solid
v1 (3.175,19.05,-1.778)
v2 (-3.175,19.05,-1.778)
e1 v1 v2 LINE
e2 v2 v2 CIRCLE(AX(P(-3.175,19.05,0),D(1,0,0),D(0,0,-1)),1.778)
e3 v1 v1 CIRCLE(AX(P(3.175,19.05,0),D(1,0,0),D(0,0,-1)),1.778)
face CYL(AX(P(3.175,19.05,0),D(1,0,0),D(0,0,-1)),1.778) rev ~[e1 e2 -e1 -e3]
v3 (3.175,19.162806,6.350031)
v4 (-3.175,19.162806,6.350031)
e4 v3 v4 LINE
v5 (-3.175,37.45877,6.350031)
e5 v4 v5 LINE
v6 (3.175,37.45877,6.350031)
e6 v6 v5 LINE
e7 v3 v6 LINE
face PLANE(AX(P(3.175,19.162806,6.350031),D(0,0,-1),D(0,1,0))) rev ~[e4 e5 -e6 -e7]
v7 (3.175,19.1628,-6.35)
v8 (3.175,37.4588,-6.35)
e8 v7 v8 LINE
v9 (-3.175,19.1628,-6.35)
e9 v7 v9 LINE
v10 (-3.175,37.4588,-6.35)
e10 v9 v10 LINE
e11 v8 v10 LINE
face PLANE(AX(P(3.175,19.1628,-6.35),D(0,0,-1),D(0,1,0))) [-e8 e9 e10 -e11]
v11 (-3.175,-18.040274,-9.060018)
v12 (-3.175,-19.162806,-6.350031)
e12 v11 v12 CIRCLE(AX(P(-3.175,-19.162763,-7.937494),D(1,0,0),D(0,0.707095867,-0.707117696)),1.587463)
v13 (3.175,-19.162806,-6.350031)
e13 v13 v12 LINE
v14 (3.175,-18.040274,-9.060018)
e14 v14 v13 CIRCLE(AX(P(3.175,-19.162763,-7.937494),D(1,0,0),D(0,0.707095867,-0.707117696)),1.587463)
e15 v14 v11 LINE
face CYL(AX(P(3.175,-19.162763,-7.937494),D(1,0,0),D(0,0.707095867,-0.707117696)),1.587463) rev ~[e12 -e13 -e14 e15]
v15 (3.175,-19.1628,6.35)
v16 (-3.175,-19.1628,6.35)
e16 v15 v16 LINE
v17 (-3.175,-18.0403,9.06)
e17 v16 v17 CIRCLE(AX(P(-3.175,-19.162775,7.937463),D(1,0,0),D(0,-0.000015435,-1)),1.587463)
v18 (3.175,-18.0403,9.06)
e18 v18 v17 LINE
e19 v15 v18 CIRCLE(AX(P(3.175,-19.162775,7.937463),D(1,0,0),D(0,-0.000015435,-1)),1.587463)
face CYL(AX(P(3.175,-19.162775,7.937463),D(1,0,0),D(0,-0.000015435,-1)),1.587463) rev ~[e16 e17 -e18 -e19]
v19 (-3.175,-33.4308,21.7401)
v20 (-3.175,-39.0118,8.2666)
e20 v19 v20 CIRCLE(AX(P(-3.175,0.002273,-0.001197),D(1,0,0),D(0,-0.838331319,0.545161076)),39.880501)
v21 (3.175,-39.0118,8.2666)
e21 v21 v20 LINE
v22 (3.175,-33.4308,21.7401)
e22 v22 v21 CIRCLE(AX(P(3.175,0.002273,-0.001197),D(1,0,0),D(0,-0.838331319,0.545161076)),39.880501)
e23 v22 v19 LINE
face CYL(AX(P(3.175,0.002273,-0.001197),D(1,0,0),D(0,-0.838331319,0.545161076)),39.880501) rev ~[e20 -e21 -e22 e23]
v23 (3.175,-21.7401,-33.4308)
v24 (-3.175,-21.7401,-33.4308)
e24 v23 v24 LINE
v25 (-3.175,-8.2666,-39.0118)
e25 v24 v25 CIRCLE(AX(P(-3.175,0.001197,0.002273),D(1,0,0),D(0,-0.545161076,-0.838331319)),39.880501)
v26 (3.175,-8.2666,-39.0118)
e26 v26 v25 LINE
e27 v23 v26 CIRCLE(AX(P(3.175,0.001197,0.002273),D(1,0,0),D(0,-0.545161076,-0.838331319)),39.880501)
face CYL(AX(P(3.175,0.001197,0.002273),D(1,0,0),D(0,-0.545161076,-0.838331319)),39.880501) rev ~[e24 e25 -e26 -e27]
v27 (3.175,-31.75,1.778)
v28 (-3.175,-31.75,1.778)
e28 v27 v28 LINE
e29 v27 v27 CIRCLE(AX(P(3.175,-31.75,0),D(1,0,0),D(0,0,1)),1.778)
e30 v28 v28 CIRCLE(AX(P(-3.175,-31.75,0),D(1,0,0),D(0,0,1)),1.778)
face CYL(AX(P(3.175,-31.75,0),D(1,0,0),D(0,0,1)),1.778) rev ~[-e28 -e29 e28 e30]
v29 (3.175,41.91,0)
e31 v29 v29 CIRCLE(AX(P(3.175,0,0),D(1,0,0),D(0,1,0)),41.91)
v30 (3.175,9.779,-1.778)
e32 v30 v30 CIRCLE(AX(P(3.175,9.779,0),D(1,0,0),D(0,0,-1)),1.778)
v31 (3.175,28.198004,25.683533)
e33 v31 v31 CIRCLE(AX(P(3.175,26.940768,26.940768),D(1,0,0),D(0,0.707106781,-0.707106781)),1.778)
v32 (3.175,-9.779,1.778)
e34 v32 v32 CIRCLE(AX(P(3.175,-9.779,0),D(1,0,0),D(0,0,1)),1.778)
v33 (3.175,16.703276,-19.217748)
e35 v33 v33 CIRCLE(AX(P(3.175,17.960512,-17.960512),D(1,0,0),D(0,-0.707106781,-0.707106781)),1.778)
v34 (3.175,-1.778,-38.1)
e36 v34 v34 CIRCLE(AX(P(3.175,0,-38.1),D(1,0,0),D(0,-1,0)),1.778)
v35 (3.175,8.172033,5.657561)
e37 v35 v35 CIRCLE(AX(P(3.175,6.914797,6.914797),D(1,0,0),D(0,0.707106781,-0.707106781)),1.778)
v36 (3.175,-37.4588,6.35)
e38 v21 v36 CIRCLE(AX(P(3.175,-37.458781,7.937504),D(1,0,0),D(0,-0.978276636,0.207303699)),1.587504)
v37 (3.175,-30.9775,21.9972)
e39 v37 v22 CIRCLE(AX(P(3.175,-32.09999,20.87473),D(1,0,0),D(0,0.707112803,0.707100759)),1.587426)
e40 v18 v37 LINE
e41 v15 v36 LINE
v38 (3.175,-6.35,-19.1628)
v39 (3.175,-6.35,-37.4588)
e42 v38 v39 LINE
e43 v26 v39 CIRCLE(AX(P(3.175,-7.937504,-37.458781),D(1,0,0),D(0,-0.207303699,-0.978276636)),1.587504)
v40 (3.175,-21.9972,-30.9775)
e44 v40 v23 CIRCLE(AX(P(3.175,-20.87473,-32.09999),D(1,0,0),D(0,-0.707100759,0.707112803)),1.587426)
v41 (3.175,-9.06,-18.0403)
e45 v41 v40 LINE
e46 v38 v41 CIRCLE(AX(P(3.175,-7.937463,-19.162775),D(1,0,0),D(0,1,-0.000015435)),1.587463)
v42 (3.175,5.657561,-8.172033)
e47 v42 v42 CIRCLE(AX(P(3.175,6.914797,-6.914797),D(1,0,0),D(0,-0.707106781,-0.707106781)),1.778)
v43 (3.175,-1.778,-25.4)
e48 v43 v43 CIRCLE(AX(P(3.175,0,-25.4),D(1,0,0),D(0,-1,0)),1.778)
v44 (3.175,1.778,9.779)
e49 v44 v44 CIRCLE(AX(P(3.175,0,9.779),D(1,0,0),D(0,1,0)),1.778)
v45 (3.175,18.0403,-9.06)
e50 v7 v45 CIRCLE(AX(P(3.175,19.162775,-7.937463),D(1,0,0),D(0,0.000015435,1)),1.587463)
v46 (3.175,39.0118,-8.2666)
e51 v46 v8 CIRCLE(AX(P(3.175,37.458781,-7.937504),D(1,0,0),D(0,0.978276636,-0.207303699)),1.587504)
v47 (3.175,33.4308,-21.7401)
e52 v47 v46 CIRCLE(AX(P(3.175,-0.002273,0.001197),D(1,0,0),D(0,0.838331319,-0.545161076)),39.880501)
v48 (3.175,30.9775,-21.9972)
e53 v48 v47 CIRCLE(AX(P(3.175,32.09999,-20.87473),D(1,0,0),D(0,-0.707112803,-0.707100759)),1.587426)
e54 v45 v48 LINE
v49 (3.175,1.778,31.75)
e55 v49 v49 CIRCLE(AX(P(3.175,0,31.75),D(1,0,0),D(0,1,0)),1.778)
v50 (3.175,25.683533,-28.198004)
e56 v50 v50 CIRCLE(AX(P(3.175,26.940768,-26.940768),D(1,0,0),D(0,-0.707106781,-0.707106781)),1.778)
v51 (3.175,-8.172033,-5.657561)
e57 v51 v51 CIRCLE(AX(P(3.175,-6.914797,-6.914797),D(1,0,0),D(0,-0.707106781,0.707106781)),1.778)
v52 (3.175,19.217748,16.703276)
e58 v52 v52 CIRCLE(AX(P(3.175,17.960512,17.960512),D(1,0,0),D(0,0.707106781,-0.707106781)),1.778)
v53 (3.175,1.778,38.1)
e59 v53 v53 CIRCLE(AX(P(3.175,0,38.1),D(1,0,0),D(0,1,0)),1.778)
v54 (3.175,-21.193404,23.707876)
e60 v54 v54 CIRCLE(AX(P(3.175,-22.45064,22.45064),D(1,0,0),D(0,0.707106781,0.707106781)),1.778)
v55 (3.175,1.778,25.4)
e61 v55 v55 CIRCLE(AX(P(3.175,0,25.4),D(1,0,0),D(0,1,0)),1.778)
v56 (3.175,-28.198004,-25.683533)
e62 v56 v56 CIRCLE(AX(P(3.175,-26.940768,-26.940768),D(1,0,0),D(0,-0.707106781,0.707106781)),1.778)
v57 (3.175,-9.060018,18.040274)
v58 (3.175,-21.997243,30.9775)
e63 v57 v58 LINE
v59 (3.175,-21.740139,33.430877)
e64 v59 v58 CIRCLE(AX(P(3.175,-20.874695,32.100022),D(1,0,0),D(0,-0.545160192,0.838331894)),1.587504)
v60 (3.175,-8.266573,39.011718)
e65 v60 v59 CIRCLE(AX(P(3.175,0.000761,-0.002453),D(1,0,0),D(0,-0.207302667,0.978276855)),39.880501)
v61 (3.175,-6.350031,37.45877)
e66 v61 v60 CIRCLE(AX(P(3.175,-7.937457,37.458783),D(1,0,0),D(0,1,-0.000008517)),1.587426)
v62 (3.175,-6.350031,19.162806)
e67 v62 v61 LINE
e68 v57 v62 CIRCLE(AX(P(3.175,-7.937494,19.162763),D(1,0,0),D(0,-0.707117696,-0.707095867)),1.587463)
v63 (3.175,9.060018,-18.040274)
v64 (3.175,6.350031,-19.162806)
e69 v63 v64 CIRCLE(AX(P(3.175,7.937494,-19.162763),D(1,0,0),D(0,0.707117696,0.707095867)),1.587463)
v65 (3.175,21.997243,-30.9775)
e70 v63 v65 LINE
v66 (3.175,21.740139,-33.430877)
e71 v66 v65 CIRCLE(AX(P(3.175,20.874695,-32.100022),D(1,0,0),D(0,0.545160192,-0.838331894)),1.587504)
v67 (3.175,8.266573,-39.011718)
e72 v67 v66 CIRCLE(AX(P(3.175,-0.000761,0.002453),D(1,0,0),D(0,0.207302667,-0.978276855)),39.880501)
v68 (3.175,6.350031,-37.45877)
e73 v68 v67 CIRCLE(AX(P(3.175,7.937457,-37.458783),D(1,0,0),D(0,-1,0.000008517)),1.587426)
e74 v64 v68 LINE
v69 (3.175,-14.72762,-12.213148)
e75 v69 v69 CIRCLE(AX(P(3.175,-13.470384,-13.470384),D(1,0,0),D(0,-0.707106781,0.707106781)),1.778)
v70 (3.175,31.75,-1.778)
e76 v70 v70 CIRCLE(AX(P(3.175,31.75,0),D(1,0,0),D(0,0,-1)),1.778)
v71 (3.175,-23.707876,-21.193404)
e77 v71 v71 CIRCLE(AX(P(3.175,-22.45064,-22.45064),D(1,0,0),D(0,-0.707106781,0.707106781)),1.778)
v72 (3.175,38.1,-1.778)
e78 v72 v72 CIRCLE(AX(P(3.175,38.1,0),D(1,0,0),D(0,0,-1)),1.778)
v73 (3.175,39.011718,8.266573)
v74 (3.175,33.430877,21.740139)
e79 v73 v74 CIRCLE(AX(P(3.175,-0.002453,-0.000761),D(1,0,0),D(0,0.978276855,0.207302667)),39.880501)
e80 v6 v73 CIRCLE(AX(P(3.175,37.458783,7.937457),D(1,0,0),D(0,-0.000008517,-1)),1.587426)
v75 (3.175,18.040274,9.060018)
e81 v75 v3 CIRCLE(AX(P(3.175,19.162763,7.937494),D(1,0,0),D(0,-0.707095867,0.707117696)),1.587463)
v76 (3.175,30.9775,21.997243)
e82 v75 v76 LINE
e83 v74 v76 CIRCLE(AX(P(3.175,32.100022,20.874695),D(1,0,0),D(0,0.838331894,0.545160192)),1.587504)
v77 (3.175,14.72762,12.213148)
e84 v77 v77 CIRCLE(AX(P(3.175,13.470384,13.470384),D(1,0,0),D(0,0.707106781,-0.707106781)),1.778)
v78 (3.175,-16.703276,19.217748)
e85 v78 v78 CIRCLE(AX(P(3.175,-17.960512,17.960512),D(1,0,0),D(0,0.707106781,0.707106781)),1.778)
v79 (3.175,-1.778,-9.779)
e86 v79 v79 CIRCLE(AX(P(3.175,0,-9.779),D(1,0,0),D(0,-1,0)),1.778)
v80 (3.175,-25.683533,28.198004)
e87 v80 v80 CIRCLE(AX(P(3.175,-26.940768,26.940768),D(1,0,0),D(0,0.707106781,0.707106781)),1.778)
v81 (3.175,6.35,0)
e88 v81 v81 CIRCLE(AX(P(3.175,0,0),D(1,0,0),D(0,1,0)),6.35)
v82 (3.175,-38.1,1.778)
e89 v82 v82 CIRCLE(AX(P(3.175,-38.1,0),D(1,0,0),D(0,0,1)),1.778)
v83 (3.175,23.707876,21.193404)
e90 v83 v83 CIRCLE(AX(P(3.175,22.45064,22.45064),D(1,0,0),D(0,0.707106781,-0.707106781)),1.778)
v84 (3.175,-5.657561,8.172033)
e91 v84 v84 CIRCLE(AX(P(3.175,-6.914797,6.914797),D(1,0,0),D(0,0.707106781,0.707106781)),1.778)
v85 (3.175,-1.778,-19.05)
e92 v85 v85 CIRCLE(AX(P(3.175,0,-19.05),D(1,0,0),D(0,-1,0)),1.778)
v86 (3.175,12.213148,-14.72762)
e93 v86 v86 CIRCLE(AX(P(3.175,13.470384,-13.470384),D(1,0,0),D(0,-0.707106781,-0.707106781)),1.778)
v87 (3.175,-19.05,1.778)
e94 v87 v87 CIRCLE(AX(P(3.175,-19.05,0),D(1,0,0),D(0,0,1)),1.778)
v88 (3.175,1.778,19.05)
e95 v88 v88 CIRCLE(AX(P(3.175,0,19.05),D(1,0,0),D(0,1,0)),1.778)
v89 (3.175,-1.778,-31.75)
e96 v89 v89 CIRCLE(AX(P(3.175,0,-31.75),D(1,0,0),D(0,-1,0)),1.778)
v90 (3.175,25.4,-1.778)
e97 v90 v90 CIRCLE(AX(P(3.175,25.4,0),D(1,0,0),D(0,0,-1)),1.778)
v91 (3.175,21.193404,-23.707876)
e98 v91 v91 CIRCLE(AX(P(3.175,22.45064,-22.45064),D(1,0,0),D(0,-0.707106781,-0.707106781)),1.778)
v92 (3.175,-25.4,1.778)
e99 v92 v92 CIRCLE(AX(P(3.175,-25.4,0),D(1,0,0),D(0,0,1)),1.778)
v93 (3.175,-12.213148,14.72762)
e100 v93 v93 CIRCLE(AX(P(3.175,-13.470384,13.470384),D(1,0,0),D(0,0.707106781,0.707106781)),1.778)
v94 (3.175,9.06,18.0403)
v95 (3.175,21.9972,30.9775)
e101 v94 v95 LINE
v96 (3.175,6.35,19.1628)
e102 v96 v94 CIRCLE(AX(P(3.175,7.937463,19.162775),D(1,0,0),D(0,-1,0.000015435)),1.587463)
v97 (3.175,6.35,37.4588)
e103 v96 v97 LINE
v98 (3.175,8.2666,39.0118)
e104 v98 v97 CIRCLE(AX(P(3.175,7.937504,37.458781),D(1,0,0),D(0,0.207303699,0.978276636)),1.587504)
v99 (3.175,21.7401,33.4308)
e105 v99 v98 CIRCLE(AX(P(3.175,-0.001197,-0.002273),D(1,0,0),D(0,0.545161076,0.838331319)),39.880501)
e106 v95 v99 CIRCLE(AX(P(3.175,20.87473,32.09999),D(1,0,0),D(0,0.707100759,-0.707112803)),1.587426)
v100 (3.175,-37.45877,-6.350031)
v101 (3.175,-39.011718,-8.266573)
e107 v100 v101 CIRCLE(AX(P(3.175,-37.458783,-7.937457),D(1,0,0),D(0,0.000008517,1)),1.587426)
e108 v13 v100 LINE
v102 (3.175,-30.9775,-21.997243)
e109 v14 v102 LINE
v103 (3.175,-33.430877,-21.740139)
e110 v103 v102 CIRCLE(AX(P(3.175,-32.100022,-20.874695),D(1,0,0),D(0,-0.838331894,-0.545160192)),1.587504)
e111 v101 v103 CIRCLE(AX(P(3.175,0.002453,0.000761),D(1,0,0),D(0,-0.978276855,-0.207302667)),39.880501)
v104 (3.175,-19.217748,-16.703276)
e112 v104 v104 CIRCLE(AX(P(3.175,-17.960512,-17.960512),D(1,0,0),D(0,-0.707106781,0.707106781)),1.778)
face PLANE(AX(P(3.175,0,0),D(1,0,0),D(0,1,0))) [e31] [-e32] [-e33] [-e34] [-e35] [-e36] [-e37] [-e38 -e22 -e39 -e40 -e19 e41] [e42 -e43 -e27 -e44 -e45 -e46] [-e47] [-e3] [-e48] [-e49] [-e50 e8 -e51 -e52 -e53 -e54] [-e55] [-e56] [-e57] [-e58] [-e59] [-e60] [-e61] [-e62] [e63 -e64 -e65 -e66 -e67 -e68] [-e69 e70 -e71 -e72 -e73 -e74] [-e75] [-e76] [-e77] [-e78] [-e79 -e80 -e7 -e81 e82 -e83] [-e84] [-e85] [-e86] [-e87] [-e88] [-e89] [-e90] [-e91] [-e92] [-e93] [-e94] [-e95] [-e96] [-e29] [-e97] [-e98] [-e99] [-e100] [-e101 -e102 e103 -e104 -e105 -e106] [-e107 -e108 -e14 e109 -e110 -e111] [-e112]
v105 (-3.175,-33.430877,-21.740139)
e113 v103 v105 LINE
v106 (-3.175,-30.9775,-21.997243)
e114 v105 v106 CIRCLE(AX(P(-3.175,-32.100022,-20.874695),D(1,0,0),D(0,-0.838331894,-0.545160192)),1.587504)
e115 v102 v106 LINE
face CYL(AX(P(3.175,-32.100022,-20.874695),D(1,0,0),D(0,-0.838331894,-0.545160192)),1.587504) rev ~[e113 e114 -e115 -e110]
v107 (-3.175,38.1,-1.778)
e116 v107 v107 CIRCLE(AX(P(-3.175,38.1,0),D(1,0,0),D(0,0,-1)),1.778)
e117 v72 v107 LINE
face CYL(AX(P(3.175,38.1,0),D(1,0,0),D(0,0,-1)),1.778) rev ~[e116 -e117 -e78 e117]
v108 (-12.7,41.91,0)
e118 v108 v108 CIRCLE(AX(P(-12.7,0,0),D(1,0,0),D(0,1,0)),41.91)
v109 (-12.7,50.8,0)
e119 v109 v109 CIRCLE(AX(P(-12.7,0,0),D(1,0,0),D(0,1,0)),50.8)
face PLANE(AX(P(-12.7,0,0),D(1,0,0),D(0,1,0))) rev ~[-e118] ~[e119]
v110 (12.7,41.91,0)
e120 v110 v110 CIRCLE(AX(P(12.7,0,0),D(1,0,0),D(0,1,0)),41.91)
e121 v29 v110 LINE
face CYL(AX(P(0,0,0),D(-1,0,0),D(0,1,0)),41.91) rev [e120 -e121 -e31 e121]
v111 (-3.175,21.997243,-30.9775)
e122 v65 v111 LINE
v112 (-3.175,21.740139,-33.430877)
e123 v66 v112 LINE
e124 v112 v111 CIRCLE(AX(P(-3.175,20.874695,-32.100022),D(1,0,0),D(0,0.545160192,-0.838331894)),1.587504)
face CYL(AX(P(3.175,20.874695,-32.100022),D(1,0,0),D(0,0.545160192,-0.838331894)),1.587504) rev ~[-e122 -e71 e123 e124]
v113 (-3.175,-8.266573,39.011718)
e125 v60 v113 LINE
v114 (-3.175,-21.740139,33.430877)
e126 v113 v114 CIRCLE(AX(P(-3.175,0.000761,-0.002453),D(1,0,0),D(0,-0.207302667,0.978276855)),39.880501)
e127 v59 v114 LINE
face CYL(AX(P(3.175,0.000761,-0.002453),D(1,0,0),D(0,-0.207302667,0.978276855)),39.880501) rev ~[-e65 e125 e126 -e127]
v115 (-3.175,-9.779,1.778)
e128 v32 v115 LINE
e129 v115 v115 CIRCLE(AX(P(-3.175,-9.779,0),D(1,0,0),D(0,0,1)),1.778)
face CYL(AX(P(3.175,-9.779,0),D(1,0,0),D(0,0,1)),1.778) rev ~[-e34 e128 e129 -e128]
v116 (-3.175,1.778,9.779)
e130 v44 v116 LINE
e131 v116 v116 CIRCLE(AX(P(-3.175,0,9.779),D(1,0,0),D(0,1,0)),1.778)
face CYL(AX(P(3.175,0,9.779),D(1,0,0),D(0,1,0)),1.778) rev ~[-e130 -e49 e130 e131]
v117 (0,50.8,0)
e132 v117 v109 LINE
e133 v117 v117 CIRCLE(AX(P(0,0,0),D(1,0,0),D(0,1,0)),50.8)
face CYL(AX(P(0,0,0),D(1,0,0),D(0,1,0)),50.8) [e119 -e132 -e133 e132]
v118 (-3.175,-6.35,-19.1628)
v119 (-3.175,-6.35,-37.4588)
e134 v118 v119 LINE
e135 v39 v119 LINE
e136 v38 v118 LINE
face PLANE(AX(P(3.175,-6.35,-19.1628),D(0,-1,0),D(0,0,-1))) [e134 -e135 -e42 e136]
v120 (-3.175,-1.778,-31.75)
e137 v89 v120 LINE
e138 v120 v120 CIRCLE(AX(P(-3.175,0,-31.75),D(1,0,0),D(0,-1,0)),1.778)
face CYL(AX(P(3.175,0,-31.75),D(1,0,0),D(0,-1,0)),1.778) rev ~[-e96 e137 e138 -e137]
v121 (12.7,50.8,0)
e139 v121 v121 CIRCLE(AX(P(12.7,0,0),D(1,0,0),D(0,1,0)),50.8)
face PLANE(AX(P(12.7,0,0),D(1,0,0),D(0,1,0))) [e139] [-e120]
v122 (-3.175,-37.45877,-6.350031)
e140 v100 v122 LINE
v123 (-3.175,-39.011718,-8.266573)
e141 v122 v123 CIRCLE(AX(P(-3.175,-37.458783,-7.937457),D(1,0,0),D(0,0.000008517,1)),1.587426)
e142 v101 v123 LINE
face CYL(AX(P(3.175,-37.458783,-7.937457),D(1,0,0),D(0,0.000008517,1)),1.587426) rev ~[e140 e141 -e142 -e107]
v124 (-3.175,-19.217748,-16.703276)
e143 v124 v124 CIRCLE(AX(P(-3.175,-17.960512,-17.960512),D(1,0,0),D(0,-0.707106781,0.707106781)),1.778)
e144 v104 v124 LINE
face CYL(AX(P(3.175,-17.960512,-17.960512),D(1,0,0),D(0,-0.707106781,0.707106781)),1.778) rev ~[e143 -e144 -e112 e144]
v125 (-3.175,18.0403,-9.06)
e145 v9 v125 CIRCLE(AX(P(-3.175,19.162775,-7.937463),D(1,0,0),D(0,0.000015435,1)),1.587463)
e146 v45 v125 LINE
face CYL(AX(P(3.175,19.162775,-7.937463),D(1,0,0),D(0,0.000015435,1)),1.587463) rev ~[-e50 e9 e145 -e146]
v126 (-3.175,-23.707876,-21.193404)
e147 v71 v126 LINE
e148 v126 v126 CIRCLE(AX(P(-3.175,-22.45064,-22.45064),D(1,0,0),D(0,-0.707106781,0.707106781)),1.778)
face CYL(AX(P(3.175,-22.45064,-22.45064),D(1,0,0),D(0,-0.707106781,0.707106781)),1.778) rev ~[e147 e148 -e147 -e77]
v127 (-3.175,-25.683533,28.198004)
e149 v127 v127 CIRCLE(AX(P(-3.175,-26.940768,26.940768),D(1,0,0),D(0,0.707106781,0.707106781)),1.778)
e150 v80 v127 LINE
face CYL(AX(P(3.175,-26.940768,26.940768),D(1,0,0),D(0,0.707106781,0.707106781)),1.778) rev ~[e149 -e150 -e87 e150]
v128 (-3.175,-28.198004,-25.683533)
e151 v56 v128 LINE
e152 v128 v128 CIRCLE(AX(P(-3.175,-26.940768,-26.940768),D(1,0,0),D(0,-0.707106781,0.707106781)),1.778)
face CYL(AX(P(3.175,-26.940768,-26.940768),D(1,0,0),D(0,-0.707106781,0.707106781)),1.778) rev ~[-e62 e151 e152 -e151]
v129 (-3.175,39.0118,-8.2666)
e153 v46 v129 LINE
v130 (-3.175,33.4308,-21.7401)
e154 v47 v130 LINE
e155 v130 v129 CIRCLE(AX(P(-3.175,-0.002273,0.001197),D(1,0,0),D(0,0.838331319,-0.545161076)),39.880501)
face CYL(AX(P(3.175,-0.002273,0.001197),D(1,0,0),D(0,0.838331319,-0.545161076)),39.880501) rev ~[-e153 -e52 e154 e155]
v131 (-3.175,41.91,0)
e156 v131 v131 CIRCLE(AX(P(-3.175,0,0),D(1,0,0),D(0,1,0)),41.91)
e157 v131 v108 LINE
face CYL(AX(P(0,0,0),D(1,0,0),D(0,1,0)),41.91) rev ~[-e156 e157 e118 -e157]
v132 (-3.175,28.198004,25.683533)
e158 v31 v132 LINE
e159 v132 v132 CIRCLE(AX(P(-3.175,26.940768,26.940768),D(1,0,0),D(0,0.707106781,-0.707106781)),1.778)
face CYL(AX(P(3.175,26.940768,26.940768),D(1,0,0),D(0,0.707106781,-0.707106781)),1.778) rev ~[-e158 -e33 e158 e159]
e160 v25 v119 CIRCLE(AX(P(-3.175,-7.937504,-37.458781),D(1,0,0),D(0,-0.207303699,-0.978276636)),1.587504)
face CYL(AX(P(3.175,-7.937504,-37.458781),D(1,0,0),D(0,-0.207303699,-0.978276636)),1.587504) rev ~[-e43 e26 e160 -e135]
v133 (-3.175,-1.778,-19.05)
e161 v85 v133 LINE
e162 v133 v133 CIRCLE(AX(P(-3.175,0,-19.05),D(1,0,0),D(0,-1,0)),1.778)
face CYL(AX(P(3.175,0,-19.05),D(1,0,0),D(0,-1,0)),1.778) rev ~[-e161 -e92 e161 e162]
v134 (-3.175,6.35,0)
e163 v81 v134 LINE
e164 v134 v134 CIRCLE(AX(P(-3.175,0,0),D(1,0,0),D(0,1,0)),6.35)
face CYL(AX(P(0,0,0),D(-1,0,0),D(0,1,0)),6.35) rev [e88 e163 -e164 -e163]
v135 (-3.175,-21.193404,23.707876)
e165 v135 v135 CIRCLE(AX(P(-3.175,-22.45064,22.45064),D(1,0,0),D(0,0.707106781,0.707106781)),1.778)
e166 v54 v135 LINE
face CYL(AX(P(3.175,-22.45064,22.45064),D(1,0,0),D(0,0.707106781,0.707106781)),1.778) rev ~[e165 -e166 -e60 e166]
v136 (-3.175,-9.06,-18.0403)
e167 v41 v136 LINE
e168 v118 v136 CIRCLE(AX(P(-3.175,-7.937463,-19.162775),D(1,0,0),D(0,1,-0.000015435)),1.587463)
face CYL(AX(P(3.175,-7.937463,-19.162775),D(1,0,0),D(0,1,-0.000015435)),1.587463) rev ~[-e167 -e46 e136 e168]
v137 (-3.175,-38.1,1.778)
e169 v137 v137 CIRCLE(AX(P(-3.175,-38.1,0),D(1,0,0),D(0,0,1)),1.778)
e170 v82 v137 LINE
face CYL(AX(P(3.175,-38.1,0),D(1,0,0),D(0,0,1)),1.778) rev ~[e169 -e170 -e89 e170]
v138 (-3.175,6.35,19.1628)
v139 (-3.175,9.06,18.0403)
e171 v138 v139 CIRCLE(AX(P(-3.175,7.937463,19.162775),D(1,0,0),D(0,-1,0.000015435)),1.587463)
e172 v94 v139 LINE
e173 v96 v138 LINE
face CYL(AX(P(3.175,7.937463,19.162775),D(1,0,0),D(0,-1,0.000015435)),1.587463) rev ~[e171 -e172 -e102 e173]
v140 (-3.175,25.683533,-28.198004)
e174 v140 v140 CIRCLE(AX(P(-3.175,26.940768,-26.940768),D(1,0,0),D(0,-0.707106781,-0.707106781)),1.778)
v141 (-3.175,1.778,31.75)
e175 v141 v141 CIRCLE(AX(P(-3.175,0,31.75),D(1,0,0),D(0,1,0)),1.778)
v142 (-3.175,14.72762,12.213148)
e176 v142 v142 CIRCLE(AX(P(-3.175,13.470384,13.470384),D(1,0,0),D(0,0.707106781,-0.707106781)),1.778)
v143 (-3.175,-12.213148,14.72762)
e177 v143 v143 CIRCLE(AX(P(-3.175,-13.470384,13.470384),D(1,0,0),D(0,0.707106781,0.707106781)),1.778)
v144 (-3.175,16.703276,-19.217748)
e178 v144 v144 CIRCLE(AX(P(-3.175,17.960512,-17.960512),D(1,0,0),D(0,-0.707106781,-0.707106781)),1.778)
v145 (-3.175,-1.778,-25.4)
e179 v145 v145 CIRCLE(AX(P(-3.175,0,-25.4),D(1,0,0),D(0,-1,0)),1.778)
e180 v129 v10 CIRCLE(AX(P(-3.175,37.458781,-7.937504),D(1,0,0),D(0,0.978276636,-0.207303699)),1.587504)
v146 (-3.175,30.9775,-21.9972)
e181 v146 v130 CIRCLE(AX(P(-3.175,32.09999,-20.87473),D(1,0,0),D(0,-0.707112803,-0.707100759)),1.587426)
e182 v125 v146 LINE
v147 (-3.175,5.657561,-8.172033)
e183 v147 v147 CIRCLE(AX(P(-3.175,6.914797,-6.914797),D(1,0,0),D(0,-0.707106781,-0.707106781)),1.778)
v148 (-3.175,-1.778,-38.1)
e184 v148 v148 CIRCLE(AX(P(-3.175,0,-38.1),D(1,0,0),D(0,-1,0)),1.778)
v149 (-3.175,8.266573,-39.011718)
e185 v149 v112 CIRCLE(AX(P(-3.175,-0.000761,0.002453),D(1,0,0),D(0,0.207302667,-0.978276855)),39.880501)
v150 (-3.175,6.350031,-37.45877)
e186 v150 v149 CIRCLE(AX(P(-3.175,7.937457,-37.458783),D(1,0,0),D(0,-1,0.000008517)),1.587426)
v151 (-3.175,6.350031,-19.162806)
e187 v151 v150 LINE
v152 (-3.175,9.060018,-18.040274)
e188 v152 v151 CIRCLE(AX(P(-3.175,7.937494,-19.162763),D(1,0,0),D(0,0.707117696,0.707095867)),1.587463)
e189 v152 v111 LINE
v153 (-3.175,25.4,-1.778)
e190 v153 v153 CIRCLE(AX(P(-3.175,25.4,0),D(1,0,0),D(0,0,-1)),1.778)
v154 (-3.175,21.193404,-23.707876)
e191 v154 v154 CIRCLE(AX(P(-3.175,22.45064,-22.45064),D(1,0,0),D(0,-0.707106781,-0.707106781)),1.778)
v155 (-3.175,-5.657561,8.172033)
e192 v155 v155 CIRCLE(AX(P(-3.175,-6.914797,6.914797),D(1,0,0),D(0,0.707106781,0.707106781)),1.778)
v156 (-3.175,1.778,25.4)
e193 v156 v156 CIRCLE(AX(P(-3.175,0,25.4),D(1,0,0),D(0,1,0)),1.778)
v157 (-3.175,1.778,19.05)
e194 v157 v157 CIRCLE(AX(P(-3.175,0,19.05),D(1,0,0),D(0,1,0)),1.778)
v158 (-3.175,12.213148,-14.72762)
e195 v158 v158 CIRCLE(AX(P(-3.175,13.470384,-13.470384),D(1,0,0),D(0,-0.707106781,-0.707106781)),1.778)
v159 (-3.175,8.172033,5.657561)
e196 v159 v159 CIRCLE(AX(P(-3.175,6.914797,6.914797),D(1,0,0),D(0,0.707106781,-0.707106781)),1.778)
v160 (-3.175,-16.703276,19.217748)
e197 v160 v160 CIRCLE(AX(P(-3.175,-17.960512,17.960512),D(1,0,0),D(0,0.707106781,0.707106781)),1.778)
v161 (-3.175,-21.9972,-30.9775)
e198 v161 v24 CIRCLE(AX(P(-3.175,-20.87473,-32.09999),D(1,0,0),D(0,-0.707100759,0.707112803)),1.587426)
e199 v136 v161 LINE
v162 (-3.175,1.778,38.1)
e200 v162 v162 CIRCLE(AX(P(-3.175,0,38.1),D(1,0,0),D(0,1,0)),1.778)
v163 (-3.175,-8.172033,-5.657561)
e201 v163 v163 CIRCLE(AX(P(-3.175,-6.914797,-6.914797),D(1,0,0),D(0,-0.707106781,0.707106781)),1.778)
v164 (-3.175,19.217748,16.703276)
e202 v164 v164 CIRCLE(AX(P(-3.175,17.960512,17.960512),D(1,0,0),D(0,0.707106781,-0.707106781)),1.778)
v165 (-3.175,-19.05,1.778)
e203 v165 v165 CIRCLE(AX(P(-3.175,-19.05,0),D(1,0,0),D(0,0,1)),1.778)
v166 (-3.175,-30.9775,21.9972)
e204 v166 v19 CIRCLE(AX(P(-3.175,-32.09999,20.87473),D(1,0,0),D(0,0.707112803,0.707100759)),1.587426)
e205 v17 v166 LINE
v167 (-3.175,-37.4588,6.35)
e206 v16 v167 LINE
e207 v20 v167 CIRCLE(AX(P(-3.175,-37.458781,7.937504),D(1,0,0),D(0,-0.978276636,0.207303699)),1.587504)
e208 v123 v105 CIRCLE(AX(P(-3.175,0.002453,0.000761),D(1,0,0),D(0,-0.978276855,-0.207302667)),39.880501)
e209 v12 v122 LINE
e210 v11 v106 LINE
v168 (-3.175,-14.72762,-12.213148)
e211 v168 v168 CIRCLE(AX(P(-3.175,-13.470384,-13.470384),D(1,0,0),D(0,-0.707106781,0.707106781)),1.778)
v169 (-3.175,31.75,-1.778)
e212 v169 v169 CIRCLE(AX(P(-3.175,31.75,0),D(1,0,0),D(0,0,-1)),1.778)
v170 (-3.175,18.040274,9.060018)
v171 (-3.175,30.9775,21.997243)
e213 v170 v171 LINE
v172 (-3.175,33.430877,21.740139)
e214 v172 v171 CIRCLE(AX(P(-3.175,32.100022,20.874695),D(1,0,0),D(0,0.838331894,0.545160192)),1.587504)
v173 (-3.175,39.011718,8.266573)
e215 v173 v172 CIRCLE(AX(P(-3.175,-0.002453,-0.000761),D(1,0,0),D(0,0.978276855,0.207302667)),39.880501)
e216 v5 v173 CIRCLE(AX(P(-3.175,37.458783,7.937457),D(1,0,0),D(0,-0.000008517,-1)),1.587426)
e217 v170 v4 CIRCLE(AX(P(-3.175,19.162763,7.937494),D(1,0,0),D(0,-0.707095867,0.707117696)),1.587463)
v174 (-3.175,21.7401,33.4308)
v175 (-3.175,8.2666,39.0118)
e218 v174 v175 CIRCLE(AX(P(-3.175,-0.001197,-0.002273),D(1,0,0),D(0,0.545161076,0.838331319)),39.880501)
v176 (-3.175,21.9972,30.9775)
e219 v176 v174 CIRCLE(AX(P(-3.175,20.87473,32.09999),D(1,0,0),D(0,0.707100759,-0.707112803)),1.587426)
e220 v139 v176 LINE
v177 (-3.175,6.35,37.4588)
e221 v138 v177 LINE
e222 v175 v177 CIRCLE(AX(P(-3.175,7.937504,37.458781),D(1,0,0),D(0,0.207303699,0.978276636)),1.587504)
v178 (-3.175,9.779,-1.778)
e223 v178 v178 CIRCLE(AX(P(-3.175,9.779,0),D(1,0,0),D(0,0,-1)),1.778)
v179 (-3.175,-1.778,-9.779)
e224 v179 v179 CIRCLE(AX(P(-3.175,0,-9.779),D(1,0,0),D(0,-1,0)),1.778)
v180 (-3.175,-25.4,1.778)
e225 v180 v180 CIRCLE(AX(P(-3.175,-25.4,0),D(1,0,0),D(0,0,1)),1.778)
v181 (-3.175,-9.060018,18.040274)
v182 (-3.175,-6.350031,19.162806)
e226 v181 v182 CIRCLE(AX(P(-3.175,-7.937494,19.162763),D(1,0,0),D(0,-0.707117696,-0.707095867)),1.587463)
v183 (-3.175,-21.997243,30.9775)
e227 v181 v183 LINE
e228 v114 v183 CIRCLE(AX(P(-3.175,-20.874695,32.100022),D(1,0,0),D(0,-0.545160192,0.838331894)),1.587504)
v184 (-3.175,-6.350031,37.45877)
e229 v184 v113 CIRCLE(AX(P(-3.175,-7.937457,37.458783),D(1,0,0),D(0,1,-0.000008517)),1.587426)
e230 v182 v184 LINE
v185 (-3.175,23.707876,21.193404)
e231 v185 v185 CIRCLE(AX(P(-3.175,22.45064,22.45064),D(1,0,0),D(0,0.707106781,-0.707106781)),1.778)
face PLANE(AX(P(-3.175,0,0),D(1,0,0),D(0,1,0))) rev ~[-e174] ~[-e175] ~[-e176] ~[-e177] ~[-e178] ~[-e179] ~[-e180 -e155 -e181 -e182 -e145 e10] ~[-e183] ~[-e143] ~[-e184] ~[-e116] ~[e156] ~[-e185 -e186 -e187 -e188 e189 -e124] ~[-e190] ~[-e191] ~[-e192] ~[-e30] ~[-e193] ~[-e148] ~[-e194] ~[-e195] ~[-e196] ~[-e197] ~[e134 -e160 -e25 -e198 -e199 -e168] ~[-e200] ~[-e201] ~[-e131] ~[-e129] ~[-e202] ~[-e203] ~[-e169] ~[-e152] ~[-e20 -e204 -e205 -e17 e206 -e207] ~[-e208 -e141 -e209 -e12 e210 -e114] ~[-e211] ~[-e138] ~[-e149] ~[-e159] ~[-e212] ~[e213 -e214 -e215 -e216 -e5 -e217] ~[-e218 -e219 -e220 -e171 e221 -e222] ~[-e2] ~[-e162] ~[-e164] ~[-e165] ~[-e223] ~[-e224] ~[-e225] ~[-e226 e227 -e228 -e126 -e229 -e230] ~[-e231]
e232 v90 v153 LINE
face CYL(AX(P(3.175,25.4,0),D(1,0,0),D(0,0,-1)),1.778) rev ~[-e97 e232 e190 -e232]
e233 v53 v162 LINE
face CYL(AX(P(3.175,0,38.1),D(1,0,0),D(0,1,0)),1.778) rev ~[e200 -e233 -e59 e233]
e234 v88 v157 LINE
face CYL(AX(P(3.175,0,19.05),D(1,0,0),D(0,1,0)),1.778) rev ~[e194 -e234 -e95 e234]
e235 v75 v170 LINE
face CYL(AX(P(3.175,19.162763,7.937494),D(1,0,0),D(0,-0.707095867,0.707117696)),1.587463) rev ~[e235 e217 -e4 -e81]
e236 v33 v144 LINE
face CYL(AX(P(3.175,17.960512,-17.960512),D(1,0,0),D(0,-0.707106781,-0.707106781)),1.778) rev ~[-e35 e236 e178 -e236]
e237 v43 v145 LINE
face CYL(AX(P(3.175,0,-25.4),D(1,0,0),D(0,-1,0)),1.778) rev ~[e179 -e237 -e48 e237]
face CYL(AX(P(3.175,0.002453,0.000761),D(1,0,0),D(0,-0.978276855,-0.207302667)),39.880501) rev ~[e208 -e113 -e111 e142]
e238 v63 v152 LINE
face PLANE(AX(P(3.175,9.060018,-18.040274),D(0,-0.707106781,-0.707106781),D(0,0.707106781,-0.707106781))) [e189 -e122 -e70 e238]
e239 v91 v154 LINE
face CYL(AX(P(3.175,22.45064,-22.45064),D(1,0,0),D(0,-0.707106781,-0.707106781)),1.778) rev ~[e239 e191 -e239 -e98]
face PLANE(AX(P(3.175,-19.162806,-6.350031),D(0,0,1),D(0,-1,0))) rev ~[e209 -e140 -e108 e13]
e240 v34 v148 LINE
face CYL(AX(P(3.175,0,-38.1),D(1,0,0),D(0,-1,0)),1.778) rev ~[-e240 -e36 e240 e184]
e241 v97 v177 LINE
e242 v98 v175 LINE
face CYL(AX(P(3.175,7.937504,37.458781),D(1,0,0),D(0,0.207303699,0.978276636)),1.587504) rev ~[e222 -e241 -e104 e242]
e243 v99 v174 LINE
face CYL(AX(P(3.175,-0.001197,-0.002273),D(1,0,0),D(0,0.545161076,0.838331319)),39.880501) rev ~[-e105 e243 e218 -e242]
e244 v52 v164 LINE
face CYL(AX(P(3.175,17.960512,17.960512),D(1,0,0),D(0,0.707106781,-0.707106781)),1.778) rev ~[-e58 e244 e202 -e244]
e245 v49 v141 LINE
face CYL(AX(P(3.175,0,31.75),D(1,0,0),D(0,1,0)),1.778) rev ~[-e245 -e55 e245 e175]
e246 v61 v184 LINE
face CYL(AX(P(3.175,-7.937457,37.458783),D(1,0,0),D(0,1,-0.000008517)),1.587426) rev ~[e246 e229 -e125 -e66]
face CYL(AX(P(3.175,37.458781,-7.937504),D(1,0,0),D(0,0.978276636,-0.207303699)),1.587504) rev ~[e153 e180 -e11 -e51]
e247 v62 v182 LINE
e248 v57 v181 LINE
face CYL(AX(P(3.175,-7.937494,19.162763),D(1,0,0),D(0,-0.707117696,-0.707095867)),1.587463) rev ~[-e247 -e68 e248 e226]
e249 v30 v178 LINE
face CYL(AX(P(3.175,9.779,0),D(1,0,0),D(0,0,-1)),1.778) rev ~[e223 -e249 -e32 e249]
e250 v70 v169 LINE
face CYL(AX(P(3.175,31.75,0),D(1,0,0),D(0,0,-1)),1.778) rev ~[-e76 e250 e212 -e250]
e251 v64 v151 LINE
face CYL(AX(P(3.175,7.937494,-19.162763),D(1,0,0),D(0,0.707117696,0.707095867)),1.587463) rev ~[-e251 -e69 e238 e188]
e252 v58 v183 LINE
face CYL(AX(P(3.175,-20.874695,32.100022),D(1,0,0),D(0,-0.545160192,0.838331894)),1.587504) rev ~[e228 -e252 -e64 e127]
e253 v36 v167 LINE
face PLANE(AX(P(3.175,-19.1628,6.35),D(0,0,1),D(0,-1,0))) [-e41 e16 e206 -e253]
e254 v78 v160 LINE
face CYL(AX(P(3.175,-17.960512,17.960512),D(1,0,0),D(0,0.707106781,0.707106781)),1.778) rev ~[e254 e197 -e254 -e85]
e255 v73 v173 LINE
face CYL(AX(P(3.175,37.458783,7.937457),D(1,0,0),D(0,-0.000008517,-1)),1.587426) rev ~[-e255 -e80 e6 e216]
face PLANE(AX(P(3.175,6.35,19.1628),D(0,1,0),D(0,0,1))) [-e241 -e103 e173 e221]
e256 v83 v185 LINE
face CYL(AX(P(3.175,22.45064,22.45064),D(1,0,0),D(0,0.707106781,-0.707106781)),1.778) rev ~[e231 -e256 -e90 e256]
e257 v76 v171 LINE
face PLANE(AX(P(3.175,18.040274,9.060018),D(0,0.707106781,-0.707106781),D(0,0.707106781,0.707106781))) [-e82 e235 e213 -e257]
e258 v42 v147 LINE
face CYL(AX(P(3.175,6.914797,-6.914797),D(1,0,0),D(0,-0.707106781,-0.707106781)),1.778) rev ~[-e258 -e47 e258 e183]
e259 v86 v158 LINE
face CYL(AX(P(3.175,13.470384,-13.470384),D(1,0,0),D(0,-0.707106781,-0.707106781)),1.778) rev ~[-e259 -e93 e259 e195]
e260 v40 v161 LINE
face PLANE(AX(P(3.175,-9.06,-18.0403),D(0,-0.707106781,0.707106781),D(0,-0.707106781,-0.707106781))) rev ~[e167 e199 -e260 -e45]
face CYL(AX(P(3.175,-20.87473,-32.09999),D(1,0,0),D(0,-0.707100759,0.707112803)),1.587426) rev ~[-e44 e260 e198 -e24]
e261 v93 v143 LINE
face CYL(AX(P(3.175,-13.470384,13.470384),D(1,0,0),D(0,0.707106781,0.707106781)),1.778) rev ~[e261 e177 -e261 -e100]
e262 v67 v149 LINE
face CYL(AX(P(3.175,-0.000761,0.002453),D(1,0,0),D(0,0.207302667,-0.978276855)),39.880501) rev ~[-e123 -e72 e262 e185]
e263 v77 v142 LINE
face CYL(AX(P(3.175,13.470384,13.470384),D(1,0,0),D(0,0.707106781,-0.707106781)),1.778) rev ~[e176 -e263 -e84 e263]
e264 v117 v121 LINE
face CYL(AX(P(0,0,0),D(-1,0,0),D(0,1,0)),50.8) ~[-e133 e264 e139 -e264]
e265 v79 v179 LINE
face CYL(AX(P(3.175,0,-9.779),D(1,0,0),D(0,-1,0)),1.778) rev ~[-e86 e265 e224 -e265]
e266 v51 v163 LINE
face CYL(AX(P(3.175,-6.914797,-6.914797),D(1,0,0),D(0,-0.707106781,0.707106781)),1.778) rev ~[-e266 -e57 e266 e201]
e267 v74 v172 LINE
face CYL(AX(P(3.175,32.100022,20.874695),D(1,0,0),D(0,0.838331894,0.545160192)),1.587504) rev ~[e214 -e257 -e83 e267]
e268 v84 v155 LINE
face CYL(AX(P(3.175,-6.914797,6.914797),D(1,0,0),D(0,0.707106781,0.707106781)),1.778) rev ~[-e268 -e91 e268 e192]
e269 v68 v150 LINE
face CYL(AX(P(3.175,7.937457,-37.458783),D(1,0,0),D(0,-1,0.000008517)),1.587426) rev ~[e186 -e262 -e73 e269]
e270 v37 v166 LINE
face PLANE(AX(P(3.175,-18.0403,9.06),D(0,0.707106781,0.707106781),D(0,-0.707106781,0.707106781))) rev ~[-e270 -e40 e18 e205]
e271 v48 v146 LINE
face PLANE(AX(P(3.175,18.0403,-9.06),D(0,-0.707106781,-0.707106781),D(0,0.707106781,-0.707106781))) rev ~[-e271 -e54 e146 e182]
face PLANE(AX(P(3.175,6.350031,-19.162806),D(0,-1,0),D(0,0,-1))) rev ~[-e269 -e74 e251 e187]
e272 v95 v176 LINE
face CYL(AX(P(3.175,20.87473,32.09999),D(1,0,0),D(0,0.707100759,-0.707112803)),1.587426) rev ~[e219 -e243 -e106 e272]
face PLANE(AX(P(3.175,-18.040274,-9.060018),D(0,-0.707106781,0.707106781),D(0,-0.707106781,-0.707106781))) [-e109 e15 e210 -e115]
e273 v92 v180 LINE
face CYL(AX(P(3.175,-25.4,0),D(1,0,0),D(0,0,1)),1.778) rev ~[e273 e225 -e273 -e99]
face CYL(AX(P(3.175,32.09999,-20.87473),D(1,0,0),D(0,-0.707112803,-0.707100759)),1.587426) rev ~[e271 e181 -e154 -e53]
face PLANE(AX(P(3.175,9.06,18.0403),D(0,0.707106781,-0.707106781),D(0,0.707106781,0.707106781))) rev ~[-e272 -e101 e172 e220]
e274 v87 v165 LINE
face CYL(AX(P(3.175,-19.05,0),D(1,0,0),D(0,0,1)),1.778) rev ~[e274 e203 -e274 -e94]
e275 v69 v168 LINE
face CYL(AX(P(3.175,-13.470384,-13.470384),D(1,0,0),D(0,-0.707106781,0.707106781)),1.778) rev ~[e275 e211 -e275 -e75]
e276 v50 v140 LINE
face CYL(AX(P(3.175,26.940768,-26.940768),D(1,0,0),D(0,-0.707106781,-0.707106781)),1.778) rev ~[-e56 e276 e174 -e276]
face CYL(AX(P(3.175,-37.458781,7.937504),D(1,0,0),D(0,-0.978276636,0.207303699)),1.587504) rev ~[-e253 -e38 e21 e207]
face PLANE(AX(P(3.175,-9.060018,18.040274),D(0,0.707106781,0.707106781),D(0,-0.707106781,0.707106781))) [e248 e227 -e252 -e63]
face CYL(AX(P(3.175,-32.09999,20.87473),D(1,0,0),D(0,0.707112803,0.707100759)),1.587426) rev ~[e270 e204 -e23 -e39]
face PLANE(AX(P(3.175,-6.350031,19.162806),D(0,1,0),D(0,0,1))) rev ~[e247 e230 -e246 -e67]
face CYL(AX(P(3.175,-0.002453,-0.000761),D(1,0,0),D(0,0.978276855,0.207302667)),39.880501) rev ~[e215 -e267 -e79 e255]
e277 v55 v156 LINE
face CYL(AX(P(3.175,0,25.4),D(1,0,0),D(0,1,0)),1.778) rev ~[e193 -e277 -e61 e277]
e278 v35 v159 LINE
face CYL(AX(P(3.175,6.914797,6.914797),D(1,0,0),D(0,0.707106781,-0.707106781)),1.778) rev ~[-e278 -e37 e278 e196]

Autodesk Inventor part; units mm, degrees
ref_plane "YZ Plane" through (0, 0, 0) normal (1, 0, 0) x (0, 1, 0)
ref_plane "XZ Plane" through (0, 0, 0) normal (0, 1, 0) x (-1, 0, 0)
ref_plane "XY Plane" through (0, 0, 0) normal (0, 0, 1) x (1, 0, 0)
sketch "Sketch1" plane through (0, 0, 0) normal (1, 0, 0) x (0, 1, 0)
  circle A0 centre (0, 0) radius 50.8
  circle A1 centre (0, 0) radius 6.35
  circle A2 centre (0, 0) radius 9.779 construction
  circle A3 centre (0, 0) radius 19.05 construction
  circle A4 centre (0, 0) radius 25.4 construction
  circle A5 centre (0, 0) radius 31.75 construction
  circle A6 centre (0, 0) radius 38.1 construction
  circle A7 centre (0, 0) radius 41.91
  line L0 (0, 0) -> (41.91, 0) construction
  line L1 (0, 50.8) -> (0, -50.8) construction
  dimension "d0" = 101.6
  dimension "d1" = 12.7
  dimension "d2" = 19.558
  dimension "d3" = 38.1
  dimension "d4" = 50.8
  dimension "d5" = 63.5
  dimension "d6" = 76.2
  dimension "d7" = 83.82
extrude "Extrusion1" add sketch "Sketch1" along normal mid plane 6.35 contours A7
sketch "Sketch2" plane through (0, 0, 0) normal (1, 0, 0) x (0, 1, 0)
  circle A0 centre (0, 0) radius 50.8
  circle A1 centre (0, 0) radius 6.35
  circle A2 centre (0, 0) radius 9.779 construction
  circle A3 centre (0, 0) radius 19.05 construction
  circle A4 centre (0, 0) radius 25.4 construction
  circle A5 centre (0, 0) radius 31.75 construction
  circle A6 centre (0, 0) radius 38.1 construction
  circle A7 centre (0, 0) radius 41.91
  line L0 (0, 0) -> (41.91, 0) construction
  line L1 (0, 50.8) -> (0, -50.8) construction
  circle A8 centre (0, 9.779) radius 1.778
  circle A9 centre (0, 19.05) radius 1.778
  circle A10 centre (0, 25.4) radius 1.778
  circle A11 centre (0, 31.75) radius 1.778
  circle A12 centre (0, 38.1) radius 1.778
  dimension "d21" = 19.558
  dimension "d22" = 38.1
  dimension "d23" = 50.8
  dimension "d24" = 63.5
  dimension "d25" = 76.2
  dimension "d19" = 101.6
  dimension "d20" = 12.7
  dimension "d26" = 83.82
  dimension "d27" = 3.556
  dimension "d28" = 3.556
  dimension "d29" = 3.556
  dimension "d30" = 3.556
  dimension "d31" = 3.556
extrude "Extrusion2" add sketch "Sketch2" along normal mid plane 25.4 contours A0
sketch "Sketch4" plane through (3.175, 0, 0) normal (1, 0, 0) x (0, 0, -1)
  circle A0 centre (0, 0) radius 50.8
  circle A1 centre (0, 0) radius 6.35
  circle A2 centre (0, 0) radius 9.779 construction
  circle A3 centre (0, 0) radius 19.05 construction
  circle A4 centre (0, 0) radius 25.4 construction
  circle A5 centre (0, 0) radius 31.75 construction
  circle A6 centre (0, 0) radius 38.1 construction
  circle A7 centre (0, 0) radius 41.91
  line L0 (0, 0) -> (41.91, 0) construction
  line L1 (0, 50.8) -> (0, -50.8) construction
  circle A8 centre (0, 9.779) radius 1.778
  circle A9 centre (0, 19.05) radius 1.778
  circle A10 centre (0, 25.4) radius 1.778
  circle A11 centre (0, 31.75) radius 1.778
  circle A12 centre (0, 38.1) radius 1.778
  dimension "d36" = 19.558
  dimension "d37" = 38.1
  dimension "d38" = 50.8
  dimension "d39" = 63.5
  dimension "d40" = 76.2
  dimension "d34" = 101.6
  dimension "d35" = 12.7
  dimension "d41" = 83.82
  dimension "d42" = 3.556
  dimension "d43" = 3.556
  dimension "d44" = 3.556
  dimension "d45" = 3.556
  dimension "d46" = 3.556
extrude "Extrusion3" cut sketch "Sketch4" against normal blind 6.35 contours A8 | A9 | A10 | A11 | A12
pattern_circular "Circular Pattern1" count 8 over 360 about axis through (0, 0, 0) along (1, 0, 0) of "Extrusion3"
sketch "Sketch5" plane through (3.175, 0, 0) normal (1, 0, 0) x (0, 0, -1)
  circle A0 centre (38.1, 0) radius 1.778 projected
  circle A1 centre (6.9148, -6.9148) radius 1.778 projected
  circle A2 centre (-6.9148, 6.9148) radius 1.778 projected
  circle A3 centre (0, 0) radius 6.35 projected
  circle A4 centre (0, 0) radius 41.91 projected
  line L0 (-6.35, 0) -> (-6.35, 39.3692) construction
  line L1 (6.35, 19.1628) -> (6.35, 37.4588) construction
  line L2 (-6.9148, 6.9148) -> (6.9148, -6.9148) construction
  line L3 (4.4901, -4.4901) -> (32.3283, 23.3481) construction
  line L4 (9.06, 18.0403) -> (21.9972, 30.9775) construction
  line L5 (6.35, 19.1628) -> (6.35, 37.4588)
  line L6 (9.06, 18.0403) -> (21.9972, 30.9775)
  arc A5 (21.7401, 33.4308) -> (8.2666, 39.0118) centre (0, 0) ccw
  arc A6 (23.3481, 32.3283) -> (8.2666, 39.0118) centre (0, 0) ccw construction
  arc A7 (8.2666, 39.0118) -> (6.35, 37.4588) centre (7.9375, 37.4588) ccw
  arc A8 (6.35, 19.1628) -> (9.06, 18.0403) centre (7.9375, 19.1628) ccw
  arc A9 (21.9972, 30.9775) -> (21.7401, 33.4308) centre (20.8747, 32.1) ccw
  point P0 (6.35, 0)
  point P1 (-4.4901, 4.4901)
  point P2 (39.878, 0)
  dimension "d53" = 1.5875
extrude "Extrusion4" cut sketch "Sketch5" against normal blind 6.35 contours L5 A7 A5 A9 L6 A8
pattern_circular "Circular Pattern2" count 8 over 360 about axis through (0, 0, 0) along (1, 0, 0) of "Extrusion4"
properties part number "Wheel"
